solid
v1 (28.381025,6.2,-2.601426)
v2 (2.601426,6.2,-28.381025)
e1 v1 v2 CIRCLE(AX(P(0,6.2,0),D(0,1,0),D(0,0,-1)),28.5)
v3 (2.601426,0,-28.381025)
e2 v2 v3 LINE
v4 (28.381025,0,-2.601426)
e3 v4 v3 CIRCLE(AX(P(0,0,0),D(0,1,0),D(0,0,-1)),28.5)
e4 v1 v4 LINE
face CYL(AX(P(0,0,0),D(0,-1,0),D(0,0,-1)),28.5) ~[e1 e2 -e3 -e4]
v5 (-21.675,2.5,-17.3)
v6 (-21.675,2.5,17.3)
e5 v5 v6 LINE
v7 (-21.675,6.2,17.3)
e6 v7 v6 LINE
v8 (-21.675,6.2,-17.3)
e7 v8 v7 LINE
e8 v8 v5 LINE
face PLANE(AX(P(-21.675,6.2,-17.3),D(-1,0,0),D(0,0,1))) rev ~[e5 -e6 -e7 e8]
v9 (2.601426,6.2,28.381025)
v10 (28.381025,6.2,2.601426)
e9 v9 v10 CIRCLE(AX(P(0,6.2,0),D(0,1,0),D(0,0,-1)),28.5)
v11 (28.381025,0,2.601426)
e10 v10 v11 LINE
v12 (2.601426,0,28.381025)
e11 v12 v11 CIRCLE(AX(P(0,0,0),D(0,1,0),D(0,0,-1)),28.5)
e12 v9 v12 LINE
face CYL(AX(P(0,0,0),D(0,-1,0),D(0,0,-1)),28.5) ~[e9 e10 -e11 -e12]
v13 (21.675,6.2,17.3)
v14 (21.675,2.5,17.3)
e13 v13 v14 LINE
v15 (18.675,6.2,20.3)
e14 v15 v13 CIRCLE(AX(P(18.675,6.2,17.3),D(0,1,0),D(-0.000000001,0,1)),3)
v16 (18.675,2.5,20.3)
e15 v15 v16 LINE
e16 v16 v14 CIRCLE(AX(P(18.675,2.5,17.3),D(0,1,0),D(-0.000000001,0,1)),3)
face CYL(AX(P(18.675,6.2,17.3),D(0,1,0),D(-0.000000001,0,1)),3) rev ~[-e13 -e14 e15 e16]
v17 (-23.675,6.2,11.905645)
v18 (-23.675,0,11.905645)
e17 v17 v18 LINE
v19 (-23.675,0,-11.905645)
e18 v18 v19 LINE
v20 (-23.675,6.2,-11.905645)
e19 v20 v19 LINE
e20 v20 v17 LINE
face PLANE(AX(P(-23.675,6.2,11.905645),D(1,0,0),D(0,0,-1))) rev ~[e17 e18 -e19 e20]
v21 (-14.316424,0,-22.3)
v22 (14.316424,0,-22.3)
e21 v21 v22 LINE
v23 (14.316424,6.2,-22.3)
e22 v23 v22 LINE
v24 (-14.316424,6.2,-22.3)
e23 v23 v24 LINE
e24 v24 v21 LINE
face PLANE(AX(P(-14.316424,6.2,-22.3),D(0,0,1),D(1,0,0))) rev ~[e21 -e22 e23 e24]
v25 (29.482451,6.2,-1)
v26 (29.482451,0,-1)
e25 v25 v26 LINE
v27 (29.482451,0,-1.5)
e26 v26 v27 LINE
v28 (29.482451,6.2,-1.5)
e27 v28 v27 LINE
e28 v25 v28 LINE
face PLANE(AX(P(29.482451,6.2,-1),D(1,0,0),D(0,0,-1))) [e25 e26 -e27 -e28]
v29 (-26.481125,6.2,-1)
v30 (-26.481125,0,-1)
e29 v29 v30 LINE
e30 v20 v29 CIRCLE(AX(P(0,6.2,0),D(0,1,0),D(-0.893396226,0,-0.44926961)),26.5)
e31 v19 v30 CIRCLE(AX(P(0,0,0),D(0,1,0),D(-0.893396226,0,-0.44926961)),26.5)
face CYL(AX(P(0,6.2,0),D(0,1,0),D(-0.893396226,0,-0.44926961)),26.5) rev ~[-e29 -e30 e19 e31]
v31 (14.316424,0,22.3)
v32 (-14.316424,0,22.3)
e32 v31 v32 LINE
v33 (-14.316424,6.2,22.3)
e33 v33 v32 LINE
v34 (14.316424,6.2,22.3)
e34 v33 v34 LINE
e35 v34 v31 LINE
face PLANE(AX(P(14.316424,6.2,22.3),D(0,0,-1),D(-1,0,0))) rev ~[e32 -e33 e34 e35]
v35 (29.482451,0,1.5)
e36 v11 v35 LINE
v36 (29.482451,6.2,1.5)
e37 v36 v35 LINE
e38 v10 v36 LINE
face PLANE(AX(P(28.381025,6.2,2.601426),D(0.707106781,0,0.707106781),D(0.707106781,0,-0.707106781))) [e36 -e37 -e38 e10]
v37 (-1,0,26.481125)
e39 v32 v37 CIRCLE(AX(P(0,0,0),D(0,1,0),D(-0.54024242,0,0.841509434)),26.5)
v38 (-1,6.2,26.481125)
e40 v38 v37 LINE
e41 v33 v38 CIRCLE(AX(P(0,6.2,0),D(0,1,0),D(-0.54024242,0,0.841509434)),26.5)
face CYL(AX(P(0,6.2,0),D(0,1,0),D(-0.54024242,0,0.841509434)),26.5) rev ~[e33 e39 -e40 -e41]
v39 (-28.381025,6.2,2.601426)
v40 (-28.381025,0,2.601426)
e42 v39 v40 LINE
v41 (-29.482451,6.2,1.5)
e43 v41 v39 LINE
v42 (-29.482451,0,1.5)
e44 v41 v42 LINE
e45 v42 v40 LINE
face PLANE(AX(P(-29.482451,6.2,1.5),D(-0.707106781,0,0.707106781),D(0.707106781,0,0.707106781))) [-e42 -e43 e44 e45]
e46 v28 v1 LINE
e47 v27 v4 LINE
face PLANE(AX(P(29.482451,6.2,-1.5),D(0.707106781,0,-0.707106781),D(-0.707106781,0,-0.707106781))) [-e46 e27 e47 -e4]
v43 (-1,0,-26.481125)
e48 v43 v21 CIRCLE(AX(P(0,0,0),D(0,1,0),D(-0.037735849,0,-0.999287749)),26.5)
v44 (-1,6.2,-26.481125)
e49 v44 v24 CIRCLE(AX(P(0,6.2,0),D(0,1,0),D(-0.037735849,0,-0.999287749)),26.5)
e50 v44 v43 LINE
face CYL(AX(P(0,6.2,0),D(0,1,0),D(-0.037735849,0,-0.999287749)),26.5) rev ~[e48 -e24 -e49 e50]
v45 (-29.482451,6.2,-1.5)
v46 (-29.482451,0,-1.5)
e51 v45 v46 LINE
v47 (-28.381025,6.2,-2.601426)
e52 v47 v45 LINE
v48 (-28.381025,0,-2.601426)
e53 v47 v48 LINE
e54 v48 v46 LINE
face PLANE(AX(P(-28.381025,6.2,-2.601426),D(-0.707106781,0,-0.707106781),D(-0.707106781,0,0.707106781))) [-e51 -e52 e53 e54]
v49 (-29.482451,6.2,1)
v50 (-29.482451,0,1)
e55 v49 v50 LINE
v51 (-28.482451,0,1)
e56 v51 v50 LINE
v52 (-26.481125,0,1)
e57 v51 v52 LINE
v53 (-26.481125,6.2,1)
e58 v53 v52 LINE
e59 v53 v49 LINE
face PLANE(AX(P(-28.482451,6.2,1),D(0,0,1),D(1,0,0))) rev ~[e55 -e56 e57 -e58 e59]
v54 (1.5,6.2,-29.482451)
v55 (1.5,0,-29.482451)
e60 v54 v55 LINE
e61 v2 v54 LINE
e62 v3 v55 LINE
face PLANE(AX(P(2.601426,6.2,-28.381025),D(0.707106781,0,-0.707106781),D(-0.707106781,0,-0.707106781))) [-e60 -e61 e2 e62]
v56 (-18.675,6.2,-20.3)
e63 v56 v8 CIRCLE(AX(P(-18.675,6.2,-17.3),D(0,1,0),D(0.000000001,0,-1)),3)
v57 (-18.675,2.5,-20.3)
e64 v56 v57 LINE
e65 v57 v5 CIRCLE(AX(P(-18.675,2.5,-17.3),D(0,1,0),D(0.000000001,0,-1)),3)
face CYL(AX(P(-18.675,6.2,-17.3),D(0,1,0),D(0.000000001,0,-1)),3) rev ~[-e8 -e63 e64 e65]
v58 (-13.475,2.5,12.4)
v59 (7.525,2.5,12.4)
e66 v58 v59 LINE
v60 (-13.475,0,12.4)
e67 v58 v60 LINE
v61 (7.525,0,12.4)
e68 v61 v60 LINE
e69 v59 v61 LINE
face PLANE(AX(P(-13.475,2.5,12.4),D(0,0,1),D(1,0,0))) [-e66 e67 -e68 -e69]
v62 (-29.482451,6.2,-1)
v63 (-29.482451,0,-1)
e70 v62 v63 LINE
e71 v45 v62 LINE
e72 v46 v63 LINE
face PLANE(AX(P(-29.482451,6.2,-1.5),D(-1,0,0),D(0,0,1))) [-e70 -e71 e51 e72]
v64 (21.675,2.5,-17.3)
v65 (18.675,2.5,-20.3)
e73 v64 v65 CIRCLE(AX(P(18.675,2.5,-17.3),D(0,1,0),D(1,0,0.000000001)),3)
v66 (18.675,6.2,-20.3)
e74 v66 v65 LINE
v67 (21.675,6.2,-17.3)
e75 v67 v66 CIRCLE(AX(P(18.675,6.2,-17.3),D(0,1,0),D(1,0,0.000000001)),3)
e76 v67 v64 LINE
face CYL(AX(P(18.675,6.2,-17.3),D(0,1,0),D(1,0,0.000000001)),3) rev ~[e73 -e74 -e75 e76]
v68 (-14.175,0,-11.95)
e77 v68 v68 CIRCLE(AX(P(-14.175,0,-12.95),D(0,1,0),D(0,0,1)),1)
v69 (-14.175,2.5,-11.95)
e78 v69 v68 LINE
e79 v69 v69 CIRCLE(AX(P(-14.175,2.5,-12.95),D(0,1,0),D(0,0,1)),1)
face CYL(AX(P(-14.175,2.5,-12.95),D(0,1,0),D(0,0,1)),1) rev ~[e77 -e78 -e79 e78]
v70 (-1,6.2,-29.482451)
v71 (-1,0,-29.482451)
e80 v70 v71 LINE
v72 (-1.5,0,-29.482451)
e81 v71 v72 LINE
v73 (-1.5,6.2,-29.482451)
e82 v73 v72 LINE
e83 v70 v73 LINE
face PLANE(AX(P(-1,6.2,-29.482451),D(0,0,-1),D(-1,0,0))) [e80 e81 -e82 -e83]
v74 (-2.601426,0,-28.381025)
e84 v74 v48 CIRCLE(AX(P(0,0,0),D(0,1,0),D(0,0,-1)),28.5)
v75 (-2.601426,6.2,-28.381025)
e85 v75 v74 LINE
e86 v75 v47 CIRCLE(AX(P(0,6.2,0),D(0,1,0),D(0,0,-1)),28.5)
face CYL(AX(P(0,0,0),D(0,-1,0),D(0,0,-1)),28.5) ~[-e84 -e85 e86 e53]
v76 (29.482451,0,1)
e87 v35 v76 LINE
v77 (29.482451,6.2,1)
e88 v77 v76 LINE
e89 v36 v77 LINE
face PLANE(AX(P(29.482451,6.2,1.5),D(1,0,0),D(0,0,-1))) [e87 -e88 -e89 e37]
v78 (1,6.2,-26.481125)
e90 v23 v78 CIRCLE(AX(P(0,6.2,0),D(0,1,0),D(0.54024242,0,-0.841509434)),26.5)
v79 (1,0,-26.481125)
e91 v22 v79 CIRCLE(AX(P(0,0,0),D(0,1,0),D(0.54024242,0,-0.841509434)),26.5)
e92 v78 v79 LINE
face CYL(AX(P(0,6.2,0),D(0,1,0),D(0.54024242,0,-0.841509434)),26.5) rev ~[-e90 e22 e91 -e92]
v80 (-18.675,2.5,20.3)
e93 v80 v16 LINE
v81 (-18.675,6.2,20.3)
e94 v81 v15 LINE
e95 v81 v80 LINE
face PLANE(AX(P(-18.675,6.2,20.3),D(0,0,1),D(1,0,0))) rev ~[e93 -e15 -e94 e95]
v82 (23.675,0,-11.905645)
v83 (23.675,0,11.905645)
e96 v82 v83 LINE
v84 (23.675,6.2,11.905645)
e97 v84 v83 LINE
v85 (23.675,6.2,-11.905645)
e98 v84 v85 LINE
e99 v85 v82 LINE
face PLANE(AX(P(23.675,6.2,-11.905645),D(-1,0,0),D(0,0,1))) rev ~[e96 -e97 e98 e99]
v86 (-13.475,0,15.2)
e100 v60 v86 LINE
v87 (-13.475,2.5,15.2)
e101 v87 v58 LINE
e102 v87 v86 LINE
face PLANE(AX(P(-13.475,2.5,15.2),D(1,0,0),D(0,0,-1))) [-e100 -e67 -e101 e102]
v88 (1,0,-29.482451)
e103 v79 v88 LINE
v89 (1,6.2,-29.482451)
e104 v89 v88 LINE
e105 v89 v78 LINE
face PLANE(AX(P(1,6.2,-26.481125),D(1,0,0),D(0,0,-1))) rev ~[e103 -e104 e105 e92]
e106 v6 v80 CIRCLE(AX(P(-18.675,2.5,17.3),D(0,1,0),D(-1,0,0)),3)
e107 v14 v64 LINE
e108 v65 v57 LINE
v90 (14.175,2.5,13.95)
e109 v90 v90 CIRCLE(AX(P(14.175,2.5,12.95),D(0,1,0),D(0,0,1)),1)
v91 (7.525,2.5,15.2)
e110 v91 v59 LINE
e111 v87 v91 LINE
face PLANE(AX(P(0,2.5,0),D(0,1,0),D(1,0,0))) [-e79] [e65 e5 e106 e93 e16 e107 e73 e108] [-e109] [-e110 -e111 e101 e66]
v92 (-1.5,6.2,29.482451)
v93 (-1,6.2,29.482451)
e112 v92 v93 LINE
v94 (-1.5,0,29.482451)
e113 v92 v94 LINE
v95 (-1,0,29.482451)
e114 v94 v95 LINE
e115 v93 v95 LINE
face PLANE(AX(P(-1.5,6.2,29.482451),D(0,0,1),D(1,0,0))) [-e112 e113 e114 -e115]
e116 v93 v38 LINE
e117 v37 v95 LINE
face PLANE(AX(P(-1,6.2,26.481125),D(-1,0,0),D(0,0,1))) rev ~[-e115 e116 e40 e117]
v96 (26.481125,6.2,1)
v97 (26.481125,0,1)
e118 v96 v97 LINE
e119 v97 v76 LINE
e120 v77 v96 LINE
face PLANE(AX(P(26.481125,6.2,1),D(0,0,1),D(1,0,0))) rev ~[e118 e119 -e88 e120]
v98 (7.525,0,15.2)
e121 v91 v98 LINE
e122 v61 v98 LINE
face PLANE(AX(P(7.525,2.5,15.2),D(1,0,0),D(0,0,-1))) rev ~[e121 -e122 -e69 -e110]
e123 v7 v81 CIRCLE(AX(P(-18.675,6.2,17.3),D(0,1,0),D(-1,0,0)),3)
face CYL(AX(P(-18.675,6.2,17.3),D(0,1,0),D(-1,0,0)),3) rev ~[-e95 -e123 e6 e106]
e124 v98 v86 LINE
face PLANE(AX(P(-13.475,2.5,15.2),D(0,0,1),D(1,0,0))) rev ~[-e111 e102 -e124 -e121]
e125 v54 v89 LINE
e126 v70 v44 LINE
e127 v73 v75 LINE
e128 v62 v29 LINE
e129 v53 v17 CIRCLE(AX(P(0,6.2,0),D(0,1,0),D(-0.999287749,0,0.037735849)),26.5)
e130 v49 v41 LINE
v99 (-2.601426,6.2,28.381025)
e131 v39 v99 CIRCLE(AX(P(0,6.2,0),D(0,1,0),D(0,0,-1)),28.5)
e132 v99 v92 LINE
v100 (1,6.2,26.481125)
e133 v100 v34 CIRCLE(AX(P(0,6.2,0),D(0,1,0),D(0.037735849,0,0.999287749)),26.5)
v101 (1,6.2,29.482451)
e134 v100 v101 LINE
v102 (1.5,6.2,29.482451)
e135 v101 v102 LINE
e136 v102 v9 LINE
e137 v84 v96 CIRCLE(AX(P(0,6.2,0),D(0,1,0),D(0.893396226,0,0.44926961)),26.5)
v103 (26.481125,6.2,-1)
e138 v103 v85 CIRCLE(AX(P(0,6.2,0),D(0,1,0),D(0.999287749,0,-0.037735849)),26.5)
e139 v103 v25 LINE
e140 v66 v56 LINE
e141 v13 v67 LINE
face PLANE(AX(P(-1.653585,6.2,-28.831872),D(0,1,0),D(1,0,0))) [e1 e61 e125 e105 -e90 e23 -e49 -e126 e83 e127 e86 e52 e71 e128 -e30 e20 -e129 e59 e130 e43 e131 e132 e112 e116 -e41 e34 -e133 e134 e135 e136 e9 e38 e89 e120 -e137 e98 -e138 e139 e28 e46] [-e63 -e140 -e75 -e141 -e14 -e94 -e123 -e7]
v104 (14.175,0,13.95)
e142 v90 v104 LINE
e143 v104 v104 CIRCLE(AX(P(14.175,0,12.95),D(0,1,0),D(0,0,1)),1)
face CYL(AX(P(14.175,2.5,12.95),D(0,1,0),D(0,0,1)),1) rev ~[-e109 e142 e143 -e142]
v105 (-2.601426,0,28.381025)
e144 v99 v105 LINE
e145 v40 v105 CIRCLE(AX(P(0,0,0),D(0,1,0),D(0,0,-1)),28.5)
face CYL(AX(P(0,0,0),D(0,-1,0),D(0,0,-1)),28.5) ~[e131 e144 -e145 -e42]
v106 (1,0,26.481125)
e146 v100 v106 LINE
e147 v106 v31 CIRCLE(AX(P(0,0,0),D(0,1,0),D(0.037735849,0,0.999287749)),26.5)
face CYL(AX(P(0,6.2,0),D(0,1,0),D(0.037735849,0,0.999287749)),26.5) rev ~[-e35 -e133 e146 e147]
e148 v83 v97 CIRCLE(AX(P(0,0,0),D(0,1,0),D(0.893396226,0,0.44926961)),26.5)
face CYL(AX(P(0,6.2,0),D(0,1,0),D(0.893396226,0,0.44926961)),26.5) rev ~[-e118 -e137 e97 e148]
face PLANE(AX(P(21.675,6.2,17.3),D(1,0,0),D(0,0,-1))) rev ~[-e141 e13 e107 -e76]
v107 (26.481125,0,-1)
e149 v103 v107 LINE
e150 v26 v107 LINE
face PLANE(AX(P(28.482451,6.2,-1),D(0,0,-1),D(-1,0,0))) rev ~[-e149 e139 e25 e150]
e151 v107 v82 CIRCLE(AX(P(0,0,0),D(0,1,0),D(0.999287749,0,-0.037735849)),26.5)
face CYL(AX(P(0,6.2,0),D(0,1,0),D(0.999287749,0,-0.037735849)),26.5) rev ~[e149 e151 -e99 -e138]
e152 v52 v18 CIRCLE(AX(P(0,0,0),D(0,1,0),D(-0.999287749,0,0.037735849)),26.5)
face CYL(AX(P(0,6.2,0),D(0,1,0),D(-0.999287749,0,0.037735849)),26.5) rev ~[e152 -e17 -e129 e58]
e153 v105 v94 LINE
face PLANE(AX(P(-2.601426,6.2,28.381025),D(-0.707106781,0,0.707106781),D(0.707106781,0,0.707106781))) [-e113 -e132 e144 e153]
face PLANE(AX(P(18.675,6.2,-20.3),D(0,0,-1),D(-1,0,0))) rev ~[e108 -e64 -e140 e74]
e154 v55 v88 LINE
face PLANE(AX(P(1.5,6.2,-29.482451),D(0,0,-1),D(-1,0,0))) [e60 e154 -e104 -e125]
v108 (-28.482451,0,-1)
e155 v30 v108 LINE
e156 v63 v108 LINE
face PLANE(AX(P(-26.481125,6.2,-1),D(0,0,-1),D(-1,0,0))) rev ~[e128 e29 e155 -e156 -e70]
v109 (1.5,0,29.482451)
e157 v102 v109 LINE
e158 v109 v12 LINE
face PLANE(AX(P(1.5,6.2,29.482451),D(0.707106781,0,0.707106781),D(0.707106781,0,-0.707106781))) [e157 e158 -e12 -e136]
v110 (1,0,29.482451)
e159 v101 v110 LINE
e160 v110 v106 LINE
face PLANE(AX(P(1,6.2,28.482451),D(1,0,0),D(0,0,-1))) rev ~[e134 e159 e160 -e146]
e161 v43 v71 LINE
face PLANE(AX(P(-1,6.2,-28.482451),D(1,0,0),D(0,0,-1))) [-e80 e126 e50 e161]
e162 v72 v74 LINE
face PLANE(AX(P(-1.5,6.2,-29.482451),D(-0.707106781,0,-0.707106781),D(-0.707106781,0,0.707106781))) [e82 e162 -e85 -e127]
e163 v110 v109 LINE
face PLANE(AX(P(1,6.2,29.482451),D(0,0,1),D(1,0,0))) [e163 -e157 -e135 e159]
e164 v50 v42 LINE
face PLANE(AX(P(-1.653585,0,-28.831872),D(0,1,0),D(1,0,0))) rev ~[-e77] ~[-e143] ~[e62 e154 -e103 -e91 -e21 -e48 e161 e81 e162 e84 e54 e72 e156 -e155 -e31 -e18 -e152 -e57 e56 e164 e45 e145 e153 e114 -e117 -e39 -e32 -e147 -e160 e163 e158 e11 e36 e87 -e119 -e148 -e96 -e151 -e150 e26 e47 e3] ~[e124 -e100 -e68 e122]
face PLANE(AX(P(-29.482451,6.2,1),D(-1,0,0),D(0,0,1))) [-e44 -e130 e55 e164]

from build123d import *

# Parameters (mm, degrees)
SKETCH1_R           = 28.5
BOSS_EXTRUDE1_DEPTH = 6.2
CUT_EXTRUDE1_DEPTH  = 3.7
CUT_EXTRUDE2_REACH  = 42.475
SKETCH3_R           = 1
SKETCH3_W           = 21
SKETCH3_H           = 2.8
CUT_EXTRUDE3_REACH  = 42.779
BOSS_EXTRUDE2_DEPTH = 6.2


with BuildPart() as part:
    # Sketch1 → Boss-Extrude1 (new body)
    with BuildSketch(Plane(origin=(0, 0, 0), x_dir=(1, 0, 0), z_dir=(0, 1, 0))):
        with Locations(Location((0, 0, 0), (0, 0, 90))):
            Circle(SKETCH1_R)
    extrude(amount=BOSS_EXTRUDE1_DEPTH)

    # Sketch2 → Cut-Extrude1 (cut)
    with BuildSketch(Plane(origin=(0, 6.2, 0), x_dir=(1, 0, 0), z_dir=(0, 1, 0))):
        with BuildLine():
            Line((18.675, 20.3), (-18.675, 20.3))
            ThreePointArc((-18.675, 20.3), (-20.796320344, 19.421320344), (-21.675, 17.3))
            Line((-21.675, 17.3), (-21.675, -17.3))
            ThreePointArc((-21.675, -17.3), (-20.796320374, -19.421320313), (-18.675000086, -20.3))
            Line((-18.675000086, -20.3), (18.675, -20.3))
            ThreePointArc((18.675, -20.3), (20.796320344, -19.421320344), (21.675, -17.3))
            Line((21.675, -17.3), (21.675, 17.3))
            ThreePointArc((21.675, 17.3), (20.796320344, 19.421320344), (18.675, 20.3))
        make_face()
    extrude(amount=-CUT_EXTRUDE1_DEPTH, mode=Mode.SUBTRACT)

    # Sketch3 → Cut-Extrude2 (cut, up to next)
    with BuildSketch(Plane(origin=(0, 2.5, 0), x_dir=(1, 0, 0), z_dir=(0, 1, 0)), mode=Mode.PRIVATE) as cut_extrude2_sk1:
        with Locations(Location((-14.175, 12.95, 0), (0, 0, 270))):
            Circle(SKETCH3_R)
    cut_extrude2_tool1 = extrude(cut_extrude2_sk1.sketch, amount=-CUT_EXTRUDE2_REACH, mode=Mode.PRIVATE) & part.part
    # Sketch3 → Cut-Extrude2 (cut, up to next)
    with BuildSketch(Plane(origin=(0, 2.5, 0), x_dir=(1, 0, 0), z_dir=(0, 1, 0)), mode=Mode.PRIVATE) as cut_extrude2_sk2:
        with Locations((-2.975, -13.8)):
            Rectangle(SKETCH3_W, SKETCH3_H)
    cut_extrude2_tool2 = extrude(cut_extrude2_sk2.sketch, amount=-CUT_EXTRUDE2_REACH, mode=Mode.PRIVATE) & part.part
    # Sketch3 → Cut-Extrude2 (cut, up to next)
    with BuildSketch(Plane(origin=(0, 2.5, 0), x_dir=(1, 0, 0), z_dir=(0, 1, 0)), mode=Mode.PRIVATE) as cut_extrude2_sk3:
        with Locations(Location((14.175, -12.95, 0), (0, 0, 270))):
            Circle(SKETCH3_R)
    cut_extrude2_tool3 = extrude(cut_extrude2_sk3.sketch, amount=-CUT_EXTRUDE2_REACH, mode=Mode.PRIVATE) & part.part
    add(cut_extrude2_tool1.solids().sort_by_distance((-14.175, 2.5, -12.95))[0], mode=Mode.SUBTRACT)
    add(cut_extrude2_tool2.solids().sort_by_distance((-2.975, 2.5, 13.8))[0], mode=Mode.SUBTRACT)
    add(cut_extrude2_tool3.solids().sort_by_distance((14.175, 2.5, 12.95))[0], mode=Mode.SUBTRACT)

    # Sketch4 → Cut-Extrude3 (cut, up to next)
    with BuildSketch(Plane(origin=(0, 6.2, 0), x_dir=(1, 0, 0), z_dir=(0, 1, 0)), mode=Mode.PRIVATE) as cut_extrude3_sk1:
        with BuildLine():
            ThreePointArc((-1, 26.481125354), (-7.938429591, 25.283024653), (-14.316424135, 22.3))
            Line((-14.316424135, 22.3), (-1, 22.3))
            Line((-1, 22.3), (-1, 26.481125354))
        make_face()
    cut_extrude3_tool1 = extrude(cut_extrude3_sk1.sketch, amount=-CUT_EXTRUDE3_REACH, mode=Mode.PRIVATE) & part.part
    # Sketch4 → Cut-Extrude3 (cut, up to next)
    with BuildSketch(Plane(origin=(0, 6.2, 0), x_dir=(1, 0, 0), z_dir=(0, 1, 0)), mode=Mode.PRIVATE) as cut_extrude3_sk2:
        with BuildLine():
            Line((1, 26.481125354), (1, 22.3))
            Line((1, 22.3), (14.316424135, 22.3))
            ThreePointArc((14.316424135, 22.3), (7.938429591, 25.283024653), (1, 26.481125354))
        make_face()
    cut_extrude3_tool2 = extrude(cut_extrude3_sk2.sketch, amount=-CUT_EXTRUDE3_REACH, mode=Mode.PRIVATE) & part.part
    # Sketch4 → Cut-Extrude3 (cut, up to next)
    with BuildSketch(Plane(origin=(0, 6.2, 0), x_dir=(1, 0, 0), z_dir=(0, 1, 0)), mode=Mode.PRIVATE) as cut_extrude3_sk3:
        with BuildLine():
            ThreePointArc((0, 28.5), (-0.500076988, 28.495612347), (-1, 28.482450737))
            Line((-1, 28.482450737), (-1, 26.481125354))
            ThreePointArc((-1, 26.481125354), (0, 26.5), (1, 26.481125354))
            Line((1, 26.481125354), (1, 28.482450737))
            ThreePointArc((1, 28.482450737), (0.500076988, 28.495612347), (0, 28.5))
        make_face()
    cut_extrude3_tool3 = extrude(cut_extrude3_sk3.sketch, amount=-CUT_EXTRUDE3_REACH, mode=Mode.PRIVATE) & part.part
    # Sketch4 → Cut-Extrude3 (cut, up to next)
    with BuildSketch(Plane(origin=(0, 6.2, 0), x_dir=(1, 0, 0), z_dir=(0, 1, 0)), mode=Mode.PRIVATE) as cut_extrude3_sk4:
        with BuildLine():
            Line((-1, -26.481125354), (-1, -28.482450737))
            ThreePointArc((-1, -28.482450737), (-0.500077047, -28.495612346), (-1.18e-07, -28.5))
            ThreePointArc((-1.18e-07, -28.5), (0.500076929, -28.495612348), (1, -28.482450737))
            Line((1, -28.482450737), (1, -26.481125354))
            ThreePointArc((1, -26.481125354), (0, -26.5), (-1, -26.481125354))
        make_face()
    cut_extrude3_tool4 = extrude(cut_extrude3_sk4.sketch, amount=-CUT_EXTRUDE3_REACH, mode=Mode.PRIVATE) & part.part
    # Sketch4 → Cut-Extrude3 (cut, up to next)
    with BuildSketch(Plane(origin=(0, 6.2, 0), x_dir=(1, 0, 0), z_dir=(0, 1, 0)), mode=Mode.PRIVATE) as cut_extrude3_sk5:
        with BuildLine():
            Line((-1, 26.481125354), (-1, 22.3))
            Line((-1, 22.3), (1, 22.3))
            Line((1, 22.3), (1, 26.481125354))
            ThreePointArc((1, 26.481125354), (0, 26.5), (-1, 26.481125354))
        make_face()
    cut_extrude3_tool5 = extrude(cut_extrude3_sk5.sketch, amount=-CUT_EXTRUDE3_REACH, mode=Mode.PRIVATE) & part.part
    # Sketch4 → Cut-Extrude3 (cut, up to next)
    with BuildSketch(Plane(origin=(0, 6.2, 0), x_dir=(1, 0, 0), z_dir=(0, 1, 0)), mode=Mode.PRIVATE) as cut_extrude3_sk6:
        with BuildLine():
            Line((-26.481125354, 1), (-28.482450737, 1))
            ThreePointArc((-28.482450737, 1), (-28.495612347, 0.500076988), (-28.5, 0))
            ThreePointArc((-28.5, 0), (-28.495612347, -0.500076988), (-28.482450737, -1))
            Line((-28.482450737, -1), (-26.481125354, -1))
            ThreePointArc((-26.481125354, -1), (-26.5, 0), (-26.481125354, 1))
        make_face()
    cut_extrude3_tool6 = extrude(cut_extrude3_sk6.sketch, amount=-CUT_EXTRUDE3_REACH, mode=Mode.PRIVATE) & part.part
    # Sketch4 → Cut-Extrude3 (cut, up to next)
    with BuildSketch(Plane(origin=(0, 6.2, 0), x_dir=(1, 0, 0), z_dir=(0, 1, 0)), mode=Mode.PRIVATE) as cut_extrude3_sk7:
        with BuildLine():
            Line((28.482450737, 1), (26.481125354, 1))
            ThreePointArc((26.481125354, 1), (26.495280918, 0.500089055), (26.5, 0))
            ThreePointArc((26.5, 0), (26.495280918, -0.500089055), (26.481125354, -1))
            Line((26.481125354, -1), (28.482450737, -1))
            ThreePointArc((28.482450737, -1), (28.495612347, -0.500076988), (28.5, 0))
            ThreePointArc((28.5, 0), (28.495612347, 0.500076988), (28.482450737, 1))
        make_face()
    cut_extrude3_tool7 = extrude(cut_extrude3_sk7.sketch, amount=-CUT_EXTRUDE3_REACH, mode=Mode.PRIVATE) & part.part
    # Sketch4 → Cut-Extrude3 (cut, up to next)
    with BuildSketch(Plane(origin=(0, 6.2, 0), x_dir=(1, 0, 0), z_dir=(0, 1, 0)), mode=Mode.PRIVATE) as cut_extrude3_sk8:
        with BuildLine():
            Line((-23.675, 1), (-26.481125354, 1))
            ThreePointArc((-26.481125354, 1), (-26.5, 0), (-26.481125354, -1))
            Line((-26.481125354, -1), (-23.675, -1))
            Line((-23.675, -1), (-23.675, 1))
        make_face()
    cut_extrude3_tool8 = extrude(cut_extrude3_sk8.sketch, amount=-CUT_EXTRUDE3_REACH, mode=Mode.PRIVATE) & part.part
    # Sketch4 → Cut-Extrude3 (cut, up to next)
    with BuildSketch(Plane(origin=(0, 6.2, 0), x_dir=(1, 0, 0), z_dir=(0, 1, 0)), mode=Mode.PRIVATE) as cut_extrude3_sk9:
        with BuildLine():
            ThreePointArc((-23.675, 11.90564467), (-25.664031231, 6.603597577), (-26.481125354, 1))
            Line((-26.481125354, 1), (-23.675, 1))
            Line((-23.675, 1), (-23.675, 11.90564467))
        make_face()
    cut_extrude3_tool9 = extrude(cut_extrude3_sk9.sketch, amount=-CUT_EXTRUDE3_REACH, mode=Mode.PRIVATE) & part.part
    # Sketch4 → Cut-Extrude3 (cut, up to next)
    with BuildSketch(Plane(origin=(0, 6.2, 0), x_dir=(1, 0, 0), z_dir=(0, 1, 0)), mode=Mode.PRIVATE) as cut_extrude3_sk10:
        with BuildLine():
            Line((-23.675, -1), (-26.481125354, -1))
            ThreePointArc((-26.481125354, -1), (-25.664031231, -6.603597577), (-23.675, -11.90564467))
            Line((-23.675, -11.90564467), (-23.675, -1))
        make_face()
    cut_extrude3_tool10 = extrude(cut_extrude3_sk10.sketch, amount=-CUT_EXTRUDE3_REACH, mode=Mode.PRIVATE) & part.part
    # Sketch4 → Cut-Extrude3 (cut, up to next)
    with BuildSketch(Plane(origin=(0, 6.2, 0), x_dir=(1, 0, 0), z_dir=(0, 1, 0)), mode=Mode.PRIVATE) as cut_extrude3_sk11:
        with BuildLine():
            Line((-1, -22.3), (-14.316424135, -22.3))
            ThreePointArc((-14.316424135, -22.3), (-7.938429591, -25.283024653), (-1, -26.481125354))
            Line((-1, -26.481125354), (-1, -22.3))
        make_face()
    cut_extrude3_tool11 = extrude(cut_extrude3_sk11.sketch, amount=-CUT_EXTRUDE3_REACH, mode=Mode.PRIVATE) & part.part
    # Sketch4 → Cut-Extrude3 (cut, up to next)
    with BuildSketch(Plane(origin=(0, 6.2, 0), x_dir=(1, 0, 0), z_dir=(0, 1, 0)), mode=Mode.PRIVATE) as cut_extrude3_sk12:
        with BuildLine():
            Line((14.316424135, -22.3), (1, -22.3))
            Line((1, -22.3), (1, -26.481125354))
            ThreePointArc((1, -26.481125354), (7.938429591, -25.283024653), (14.316424135, -22.3))
        make_face()
    cut_extrude3_tool12 = extrude(cut_extrude3_sk12.sketch, amount=-CUT_EXTRUDE3_REACH, mode=Mode.PRIVATE) & part.part
    # Sketch4 → Cut-Extrude3 (cut, up to next)
    with BuildSketch(Plane(origin=(0, 6.2, 0), x_dir=(1, 0, 0), z_dir=(0, 1, 0)), mode=Mode.PRIVATE) as cut_extrude3_sk13:
        with BuildLine():
            Line((1, -22.3), (-1, -22.3))
            Line((-1, -22.3), (-1, -26.481125354))
            ThreePointArc((-1, -26.481125354), (0, -26.5), (1, -26.481125354))
            Line((1, -26.481125354), (1, -22.3))
        make_face()
    cut_extrude3_tool13 = extrude(cut_extrude3_sk13.sketch, amount=-CUT_EXTRUDE3_REACH, mode=Mode.PRIVATE) & part.part
    # Sketch4 → Cut-Extrude3 (cut, up to next)
    with BuildSketch(Plane(origin=(0, 6.2, 0), x_dir=(1, 0, 0), z_dir=(0, 1, 0)), mode=Mode.PRIVATE) as cut_extrude3_sk14:
        with BuildLine():
            ThreePointArc((0, 28.5), (-0.500076988, 28.495612347), (-1, 28.482450737))
            Line((-1, 28.482450737), (-1, 26.481125354))
            ThreePointArc((-1, 26.481125354), (0, 26.5), (1, 26.481125354))
            Line((1, 26.481125354), (1, 28.482450737))
            ThreePointArc((1, 28.482450737), (0.500076988, 28.495612347), (0, 28.5))
        make_face()
    cut_extrude3_tool14 = extrude(cut_extrude3_sk14.sketch, amount=-CUT_EXTRUDE3_REACH, mode=Mode.PRIVATE) & part.part
    # Sketch4 → Cut-Extrude3 (cut, up to next)
    with BuildSketch(Plane(origin=(0, 6.2, 0), x_dir=(1, 0, 0), z_dir=(0, 1, 0)), mode=Mode.PRIVATE) as cut_extrude3_sk15:
        with BuildLine():
            Line((-1, -26.481125354), (-1, -28.482450737))
            ThreePointArc((-1, -28.482450737), (-0.500077047, -28.495612346), (-1.18e-07, -28.5))
            ThreePointArc((-1.18e-07, -28.5), (0.500076929, -28.495612348), (1, -28.482450737))
            Line((1, -28.482450737), (1, -26.481125354))
            ThreePointArc((1, -26.481125354), (0, -26.5), (-1, -26.481125354))
        make_face()
    cut_extrude3_tool15 = extrude(cut_extrude3_sk15.sketch, amount=-CUT_EXTRUDE3_REACH, mode=Mode.PRIVATE) & part.part
    # Sketch4 → Cut-Extrude3 (cut, up to next)
    with BuildSketch(Plane(origin=(0, 6.2, 0), x_dir=(1, 0, 0), z_dir=(0, 1, 0)), mode=Mode.PRIVATE) as cut_extrude3_sk16:
        with BuildLine():
            Line((23.675, 11.90564467), (23.675, 1))
            Line((23.675, 1), (26.481125354, 1))
            ThreePointArc((26.481125354, 1), (25.664031231, 6.603597577), (23.675, 11.90564467))
        make_face()
    cut_extrude3_tool16 = extrude(cut_extrude3_sk16.sketch, amount=-CUT_EXTRUDE3_REACH, mode=Mode.PRIVATE) & part.part
    # Sketch4 → Cut-Extrude3 (cut, up to next)
    with BuildSketch(Plane(origin=(0, 6.2, 0), x_dir=(1, 0, 0), z_dir=(0, 1, 0)), mode=Mode.PRIVATE) as cut_extrude3_sk17:
        with BuildLine():
            Line((26.481125354, -1), (23.675, -1))
            Line((23.675, -1), (23.675, -11.90564467))
            ThreePointArc((23.675, -11.90564467), (25.664031231, -6.603597577), (26.481125354, -1))
        make_face()
    cut_extrude3_tool17 = extrude(cut_extrude3_sk17.sketch, amount=-CUT_EXTRUDE3_REACH, mode=Mode.PRIVATE) & part.part
    # Sketch4 → Cut-Extrude3 (cut, up to next)
    with BuildSketch(Plane(origin=(0, 6.2, 0), x_dir=(1, 0, 0), z_dir=(0, 1, 0)), mode=Mode.PRIVATE) as cut_extrude3_sk18:
        with BuildLine():
            Line((26.481125354, 1), (23.675, 1))
            Line((23.675, 1), (23.675, -1))
            Line((23.675, -1), (26.481125354, -1))
            ThreePointArc((26.481125354, -1), (26.495280918, -0.500089055), (26.5, 0))
            ThreePointArc((26.5, 0), (26.495280918, 0.500089055), (26.481125354, 1))
        make_face()
    cut_extrude3_tool18 = extrude(cut_extrude3_sk18.sketch, amount=-CUT_EXTRUDE3_REACH, mode=Mode.PRIVATE) & part.part
    # Sketch4 → Cut-Extrude3 (cut, up to next)
    with BuildSketch(Plane(origin=(0, 6.2, 0), x_dir=(1, 0, 0), z_dir=(0, 1, 0)), mode=Mode.PRIVATE) as cut_extrude3_sk19:
        with BuildLine():
            Line((-26.481125354, 1), (-28.482450737, 1))
            ThreePointArc((-28.482450737, 1), (-28.495612347, 0.500076988), (-28.5, 0))
            ThreePointArc((-28.5, 0), (-28.495612347, -0.500076988), (-28.482450737, -1))
            Line((-28.482450737, -1), (-26.481125354, -1))
            ThreePointArc((-26.481125354, -1), (-26.5, 0), (-26.481125354, 1))
        make_face()
    cut_extrude3_tool19 = extrude(cut_extrude3_sk19.sketch, amount=-CUT_EXTRUDE3_REACH, mode=Mode.PRIVATE) & part.part
    # Sketch4 → Cut-Extrude3 (cut, up to next)
    with BuildSketch(Plane(origin=(0, 6.2, 0), x_dir=(1, 0, 0), z_dir=(0, 1, 0)), mode=Mode.PRIVATE) as cut_extrude3_sk20:
        with BuildLine():
            Line((28.482450737, 1), (26.481125354, 1))
            ThreePointArc((26.481125354, 1), (26.495280918, 0.500089055), (26.5, 0))
            ThreePointArc((26.5, 0), (26.495280918, -0.500089055), (26.481125354, -1))
            Line((26.481125354, -1), (28.482450737, -1))
            ThreePointArc((28.482450737, -1), (28.495612347, -0.500076988), (28.5, 0))
            ThreePointArc((28.5, 0), (28.495612347, 0.500076988), (28.482450737, 1))
        make_face()
    cut_extrude3_tool20 = extrude(cut_extrude3_sk20.sketch, amount=-CUT_EXTRUDE3_REACH, mode=Mode.PRIVATE) & part.part
    add(cut_extrude3_tool1.solids().sort_by_distance((-5.995694, 6.2, -23.945534))[0], mode=Mode.SUBTRACT)
    add(cut_extrude3_tool2.solids().sort_by_distance((5.995694, 6.2, -23.945534))[0], mode=Mode.SUBTRACT)
    add(cut_extrude3_tool3.solids().sort_by_distance((0, 6.2, -27.493929))[0], mode=Mode.SUBTRACT)
    add(cut_extrude3_tool4.solids().sort_by_distance((0, 6.2, 27.493929))[0], mode=Mode.SUBTRACT)
    add(cut_extrude3_tool5.solids().sort_by_distance((0, 6.2, -24.396858))[0], mode=Mode.SUBTRACT)
    add(cut_extrude3_tool6.solids().sort_by_distance((-27.493929, 6.2, 0))[0], mode=Mode.SUBTRACT)
    add(cut_extrude3_tool7.solids().sort_by_distance((27.493929, 6.2, 0))[0], mode=Mode.SUBTRACT)
    add(cut_extrude3_tool8.solids().sort_by_distance((-25.08436, 6.2, 0))[0], mode=Mode.SUBTRACT)
    add(cut_extrude3_tool9.solids().sort_by_distance((-24.771422, 6.2, -5.065858))[0], mode=Mode.SUBTRACT)
    add(cut_extrude3_tool10.solids().sort_by_distance((-24.771422, 6.2, 5.065858))[0], mode=Mode.SUBTRACT)
    add(cut_extrude3_tool11.solids().sort_by_distance((-5.995694, 6.2, 23.945534))[0], mode=Mode.SUBTRACT)
    add(cut_extrude3_tool12.solids().sort_by_distance((5.995694, 6.2, 23.945534))[0], mode=Mode.SUBTRACT)
    add(cut_extrude3_tool13.solids().sort_by_distance((0, 6.2, 24.396858))[0], mode=Mode.SUBTRACT)
    add(cut_extrude3_tool14.solids().sort_by_distance((0, 6.2, -27.493929))[0], mode=Mode.SUBTRACT)
    add(cut_extrude3_tool15.solids().sort_by_distance((0, 6.2, 27.493929))[0], mode=Mode.SUBTRACT)
    add(cut_extrude3_tool16.solids().sort_by_distance((24.771422, 6.2, -5.065858))[0], mode=Mode.SUBTRACT)
    add(cut_extrude3_tool17.solids().sort_by_distance((24.771422, 6.2, 5.065858))[0], mode=Mode.SUBTRACT)
    add(cut_extrude3_tool18.solids().sort_by_distance((25.08436, 6.2, 0))[0], mode=Mode.SUBTRACT)
    add(cut_extrude3_tool19.solids().sort_by_distance((-27.493929, 6.2, 0))[0], mode=Mode.SUBTRACT)
    add(cut_extrude3_tool20.solids().sort_by_distance((27.493929, 6.2, 0))[0], mode=Mode.SUBTRACT)

    # Sketch5 → Boss-Extrude2 (add)
    with BuildSketch(Plane(origin=(0, 6.2, 0), x_dir=(1, 0, 0), z_dir=(0, 1, 0))):
        with BuildLine():
            ThreePointArc((-2.601425658, 28.381025079), (-1.801426791, 28.443010767), (-1, 28.482450737))
            Line((-1, 28.482450737), (-1, 29.482450737))
            Line((-1, 29.482450737), (-1.5, 29.482450737))
            Line((-1.5, 29.482450737), (-2.601425658, 28.381025079))
        make_face()
        with BuildLine():
            Line((1, 29.482450737), (1, 28.482450737))
            ThreePointArc((1, 28.482450737), (1.801426791, 28.443010767), (2.601425658, 28.381025079))
            Line((2.601425658, 28.381025079), (1.5, 29.482450737))
            Line((1.5, 29.482450737), (1, 29.482450737))
        make_face()
        with BuildLine():
            Line((29.482450737, 1.5), (28.381025079, 2.601425658))
            ThreePointArc((28.381025079, 2.601425658), (28.443010767, 1.801426791), (28.482450737, 1))
            Line((28.482450737, 1), (29.482450737, 1))
            Line((29.482450737, 1), (29.482450737, 1.5))
        make_face()
        with BuildLine():
            Line((29.482450737, -1), (28.482450737, -1))
            ThreePointArc((28.482450737, -1), (28.443010767, -1.801426791), (28.381025079, -2.601425658))
            Line((28.381025079, -2.601425658), (29.482450737, -1.5))
            Line((29.482450737, -1.5), (29.482450737, -1))
        make_face()
        with BuildLine():
            ThreePointArc((-28.381025079, -2.601425658), (-28.443010767, -1.801426791), (-28.482450737, -1))
            Line((-28.482450737, -1), (-29.482450737, -1))
            Line((-29.482450737, -1), (-29.482450737, -1.5))
            Line((-29.482450737, -1.5), (-28.381025079, -2.601425658))
        make_face()
        with BuildLine():
            ThreePointArc((-28.482450737, 1), (-28.443010767, 1.801426791), (-28.381025079, 2.601425658))
            Line((-28.381025079, 2.601425658), (-29.482450737, 1.5))
            Line((-29.482450737, 1.5), (-29.482450737, 1))
            Line((-29.482450737, 1), (-28.482450737, 1))
        make_face()
        with BuildLine():
            ThreePointArc((-1, -28.482450737), (-1.801426791, -28.443010767), (-2.601425658, -28.381025079))
            Line((-2.601425658, -28.381025079), (-1.5, -29.482450737))
            Line((-1.5, -29.482450737), (-1, -29.482450737))
            Line((-1, -29.482450737), (-1, -28.482450737))
        make_face()
        with BuildLine():
            Line((1.5, -29.482450737), (2.601425658, -28.381025079))
            ThreePointArc((2.601425658, -28.381025079), (1.801426791, -28.443010767), (1, -28.482450737))
            Line((1, -28.482450737), (1, -29.482450737))
            Line((1, -29.482450737), (1.5, -29.482450737))
        make_face()
    extrude(amount=-BOSS_EXTRUDE2_DEPTH)


solid = part.part
